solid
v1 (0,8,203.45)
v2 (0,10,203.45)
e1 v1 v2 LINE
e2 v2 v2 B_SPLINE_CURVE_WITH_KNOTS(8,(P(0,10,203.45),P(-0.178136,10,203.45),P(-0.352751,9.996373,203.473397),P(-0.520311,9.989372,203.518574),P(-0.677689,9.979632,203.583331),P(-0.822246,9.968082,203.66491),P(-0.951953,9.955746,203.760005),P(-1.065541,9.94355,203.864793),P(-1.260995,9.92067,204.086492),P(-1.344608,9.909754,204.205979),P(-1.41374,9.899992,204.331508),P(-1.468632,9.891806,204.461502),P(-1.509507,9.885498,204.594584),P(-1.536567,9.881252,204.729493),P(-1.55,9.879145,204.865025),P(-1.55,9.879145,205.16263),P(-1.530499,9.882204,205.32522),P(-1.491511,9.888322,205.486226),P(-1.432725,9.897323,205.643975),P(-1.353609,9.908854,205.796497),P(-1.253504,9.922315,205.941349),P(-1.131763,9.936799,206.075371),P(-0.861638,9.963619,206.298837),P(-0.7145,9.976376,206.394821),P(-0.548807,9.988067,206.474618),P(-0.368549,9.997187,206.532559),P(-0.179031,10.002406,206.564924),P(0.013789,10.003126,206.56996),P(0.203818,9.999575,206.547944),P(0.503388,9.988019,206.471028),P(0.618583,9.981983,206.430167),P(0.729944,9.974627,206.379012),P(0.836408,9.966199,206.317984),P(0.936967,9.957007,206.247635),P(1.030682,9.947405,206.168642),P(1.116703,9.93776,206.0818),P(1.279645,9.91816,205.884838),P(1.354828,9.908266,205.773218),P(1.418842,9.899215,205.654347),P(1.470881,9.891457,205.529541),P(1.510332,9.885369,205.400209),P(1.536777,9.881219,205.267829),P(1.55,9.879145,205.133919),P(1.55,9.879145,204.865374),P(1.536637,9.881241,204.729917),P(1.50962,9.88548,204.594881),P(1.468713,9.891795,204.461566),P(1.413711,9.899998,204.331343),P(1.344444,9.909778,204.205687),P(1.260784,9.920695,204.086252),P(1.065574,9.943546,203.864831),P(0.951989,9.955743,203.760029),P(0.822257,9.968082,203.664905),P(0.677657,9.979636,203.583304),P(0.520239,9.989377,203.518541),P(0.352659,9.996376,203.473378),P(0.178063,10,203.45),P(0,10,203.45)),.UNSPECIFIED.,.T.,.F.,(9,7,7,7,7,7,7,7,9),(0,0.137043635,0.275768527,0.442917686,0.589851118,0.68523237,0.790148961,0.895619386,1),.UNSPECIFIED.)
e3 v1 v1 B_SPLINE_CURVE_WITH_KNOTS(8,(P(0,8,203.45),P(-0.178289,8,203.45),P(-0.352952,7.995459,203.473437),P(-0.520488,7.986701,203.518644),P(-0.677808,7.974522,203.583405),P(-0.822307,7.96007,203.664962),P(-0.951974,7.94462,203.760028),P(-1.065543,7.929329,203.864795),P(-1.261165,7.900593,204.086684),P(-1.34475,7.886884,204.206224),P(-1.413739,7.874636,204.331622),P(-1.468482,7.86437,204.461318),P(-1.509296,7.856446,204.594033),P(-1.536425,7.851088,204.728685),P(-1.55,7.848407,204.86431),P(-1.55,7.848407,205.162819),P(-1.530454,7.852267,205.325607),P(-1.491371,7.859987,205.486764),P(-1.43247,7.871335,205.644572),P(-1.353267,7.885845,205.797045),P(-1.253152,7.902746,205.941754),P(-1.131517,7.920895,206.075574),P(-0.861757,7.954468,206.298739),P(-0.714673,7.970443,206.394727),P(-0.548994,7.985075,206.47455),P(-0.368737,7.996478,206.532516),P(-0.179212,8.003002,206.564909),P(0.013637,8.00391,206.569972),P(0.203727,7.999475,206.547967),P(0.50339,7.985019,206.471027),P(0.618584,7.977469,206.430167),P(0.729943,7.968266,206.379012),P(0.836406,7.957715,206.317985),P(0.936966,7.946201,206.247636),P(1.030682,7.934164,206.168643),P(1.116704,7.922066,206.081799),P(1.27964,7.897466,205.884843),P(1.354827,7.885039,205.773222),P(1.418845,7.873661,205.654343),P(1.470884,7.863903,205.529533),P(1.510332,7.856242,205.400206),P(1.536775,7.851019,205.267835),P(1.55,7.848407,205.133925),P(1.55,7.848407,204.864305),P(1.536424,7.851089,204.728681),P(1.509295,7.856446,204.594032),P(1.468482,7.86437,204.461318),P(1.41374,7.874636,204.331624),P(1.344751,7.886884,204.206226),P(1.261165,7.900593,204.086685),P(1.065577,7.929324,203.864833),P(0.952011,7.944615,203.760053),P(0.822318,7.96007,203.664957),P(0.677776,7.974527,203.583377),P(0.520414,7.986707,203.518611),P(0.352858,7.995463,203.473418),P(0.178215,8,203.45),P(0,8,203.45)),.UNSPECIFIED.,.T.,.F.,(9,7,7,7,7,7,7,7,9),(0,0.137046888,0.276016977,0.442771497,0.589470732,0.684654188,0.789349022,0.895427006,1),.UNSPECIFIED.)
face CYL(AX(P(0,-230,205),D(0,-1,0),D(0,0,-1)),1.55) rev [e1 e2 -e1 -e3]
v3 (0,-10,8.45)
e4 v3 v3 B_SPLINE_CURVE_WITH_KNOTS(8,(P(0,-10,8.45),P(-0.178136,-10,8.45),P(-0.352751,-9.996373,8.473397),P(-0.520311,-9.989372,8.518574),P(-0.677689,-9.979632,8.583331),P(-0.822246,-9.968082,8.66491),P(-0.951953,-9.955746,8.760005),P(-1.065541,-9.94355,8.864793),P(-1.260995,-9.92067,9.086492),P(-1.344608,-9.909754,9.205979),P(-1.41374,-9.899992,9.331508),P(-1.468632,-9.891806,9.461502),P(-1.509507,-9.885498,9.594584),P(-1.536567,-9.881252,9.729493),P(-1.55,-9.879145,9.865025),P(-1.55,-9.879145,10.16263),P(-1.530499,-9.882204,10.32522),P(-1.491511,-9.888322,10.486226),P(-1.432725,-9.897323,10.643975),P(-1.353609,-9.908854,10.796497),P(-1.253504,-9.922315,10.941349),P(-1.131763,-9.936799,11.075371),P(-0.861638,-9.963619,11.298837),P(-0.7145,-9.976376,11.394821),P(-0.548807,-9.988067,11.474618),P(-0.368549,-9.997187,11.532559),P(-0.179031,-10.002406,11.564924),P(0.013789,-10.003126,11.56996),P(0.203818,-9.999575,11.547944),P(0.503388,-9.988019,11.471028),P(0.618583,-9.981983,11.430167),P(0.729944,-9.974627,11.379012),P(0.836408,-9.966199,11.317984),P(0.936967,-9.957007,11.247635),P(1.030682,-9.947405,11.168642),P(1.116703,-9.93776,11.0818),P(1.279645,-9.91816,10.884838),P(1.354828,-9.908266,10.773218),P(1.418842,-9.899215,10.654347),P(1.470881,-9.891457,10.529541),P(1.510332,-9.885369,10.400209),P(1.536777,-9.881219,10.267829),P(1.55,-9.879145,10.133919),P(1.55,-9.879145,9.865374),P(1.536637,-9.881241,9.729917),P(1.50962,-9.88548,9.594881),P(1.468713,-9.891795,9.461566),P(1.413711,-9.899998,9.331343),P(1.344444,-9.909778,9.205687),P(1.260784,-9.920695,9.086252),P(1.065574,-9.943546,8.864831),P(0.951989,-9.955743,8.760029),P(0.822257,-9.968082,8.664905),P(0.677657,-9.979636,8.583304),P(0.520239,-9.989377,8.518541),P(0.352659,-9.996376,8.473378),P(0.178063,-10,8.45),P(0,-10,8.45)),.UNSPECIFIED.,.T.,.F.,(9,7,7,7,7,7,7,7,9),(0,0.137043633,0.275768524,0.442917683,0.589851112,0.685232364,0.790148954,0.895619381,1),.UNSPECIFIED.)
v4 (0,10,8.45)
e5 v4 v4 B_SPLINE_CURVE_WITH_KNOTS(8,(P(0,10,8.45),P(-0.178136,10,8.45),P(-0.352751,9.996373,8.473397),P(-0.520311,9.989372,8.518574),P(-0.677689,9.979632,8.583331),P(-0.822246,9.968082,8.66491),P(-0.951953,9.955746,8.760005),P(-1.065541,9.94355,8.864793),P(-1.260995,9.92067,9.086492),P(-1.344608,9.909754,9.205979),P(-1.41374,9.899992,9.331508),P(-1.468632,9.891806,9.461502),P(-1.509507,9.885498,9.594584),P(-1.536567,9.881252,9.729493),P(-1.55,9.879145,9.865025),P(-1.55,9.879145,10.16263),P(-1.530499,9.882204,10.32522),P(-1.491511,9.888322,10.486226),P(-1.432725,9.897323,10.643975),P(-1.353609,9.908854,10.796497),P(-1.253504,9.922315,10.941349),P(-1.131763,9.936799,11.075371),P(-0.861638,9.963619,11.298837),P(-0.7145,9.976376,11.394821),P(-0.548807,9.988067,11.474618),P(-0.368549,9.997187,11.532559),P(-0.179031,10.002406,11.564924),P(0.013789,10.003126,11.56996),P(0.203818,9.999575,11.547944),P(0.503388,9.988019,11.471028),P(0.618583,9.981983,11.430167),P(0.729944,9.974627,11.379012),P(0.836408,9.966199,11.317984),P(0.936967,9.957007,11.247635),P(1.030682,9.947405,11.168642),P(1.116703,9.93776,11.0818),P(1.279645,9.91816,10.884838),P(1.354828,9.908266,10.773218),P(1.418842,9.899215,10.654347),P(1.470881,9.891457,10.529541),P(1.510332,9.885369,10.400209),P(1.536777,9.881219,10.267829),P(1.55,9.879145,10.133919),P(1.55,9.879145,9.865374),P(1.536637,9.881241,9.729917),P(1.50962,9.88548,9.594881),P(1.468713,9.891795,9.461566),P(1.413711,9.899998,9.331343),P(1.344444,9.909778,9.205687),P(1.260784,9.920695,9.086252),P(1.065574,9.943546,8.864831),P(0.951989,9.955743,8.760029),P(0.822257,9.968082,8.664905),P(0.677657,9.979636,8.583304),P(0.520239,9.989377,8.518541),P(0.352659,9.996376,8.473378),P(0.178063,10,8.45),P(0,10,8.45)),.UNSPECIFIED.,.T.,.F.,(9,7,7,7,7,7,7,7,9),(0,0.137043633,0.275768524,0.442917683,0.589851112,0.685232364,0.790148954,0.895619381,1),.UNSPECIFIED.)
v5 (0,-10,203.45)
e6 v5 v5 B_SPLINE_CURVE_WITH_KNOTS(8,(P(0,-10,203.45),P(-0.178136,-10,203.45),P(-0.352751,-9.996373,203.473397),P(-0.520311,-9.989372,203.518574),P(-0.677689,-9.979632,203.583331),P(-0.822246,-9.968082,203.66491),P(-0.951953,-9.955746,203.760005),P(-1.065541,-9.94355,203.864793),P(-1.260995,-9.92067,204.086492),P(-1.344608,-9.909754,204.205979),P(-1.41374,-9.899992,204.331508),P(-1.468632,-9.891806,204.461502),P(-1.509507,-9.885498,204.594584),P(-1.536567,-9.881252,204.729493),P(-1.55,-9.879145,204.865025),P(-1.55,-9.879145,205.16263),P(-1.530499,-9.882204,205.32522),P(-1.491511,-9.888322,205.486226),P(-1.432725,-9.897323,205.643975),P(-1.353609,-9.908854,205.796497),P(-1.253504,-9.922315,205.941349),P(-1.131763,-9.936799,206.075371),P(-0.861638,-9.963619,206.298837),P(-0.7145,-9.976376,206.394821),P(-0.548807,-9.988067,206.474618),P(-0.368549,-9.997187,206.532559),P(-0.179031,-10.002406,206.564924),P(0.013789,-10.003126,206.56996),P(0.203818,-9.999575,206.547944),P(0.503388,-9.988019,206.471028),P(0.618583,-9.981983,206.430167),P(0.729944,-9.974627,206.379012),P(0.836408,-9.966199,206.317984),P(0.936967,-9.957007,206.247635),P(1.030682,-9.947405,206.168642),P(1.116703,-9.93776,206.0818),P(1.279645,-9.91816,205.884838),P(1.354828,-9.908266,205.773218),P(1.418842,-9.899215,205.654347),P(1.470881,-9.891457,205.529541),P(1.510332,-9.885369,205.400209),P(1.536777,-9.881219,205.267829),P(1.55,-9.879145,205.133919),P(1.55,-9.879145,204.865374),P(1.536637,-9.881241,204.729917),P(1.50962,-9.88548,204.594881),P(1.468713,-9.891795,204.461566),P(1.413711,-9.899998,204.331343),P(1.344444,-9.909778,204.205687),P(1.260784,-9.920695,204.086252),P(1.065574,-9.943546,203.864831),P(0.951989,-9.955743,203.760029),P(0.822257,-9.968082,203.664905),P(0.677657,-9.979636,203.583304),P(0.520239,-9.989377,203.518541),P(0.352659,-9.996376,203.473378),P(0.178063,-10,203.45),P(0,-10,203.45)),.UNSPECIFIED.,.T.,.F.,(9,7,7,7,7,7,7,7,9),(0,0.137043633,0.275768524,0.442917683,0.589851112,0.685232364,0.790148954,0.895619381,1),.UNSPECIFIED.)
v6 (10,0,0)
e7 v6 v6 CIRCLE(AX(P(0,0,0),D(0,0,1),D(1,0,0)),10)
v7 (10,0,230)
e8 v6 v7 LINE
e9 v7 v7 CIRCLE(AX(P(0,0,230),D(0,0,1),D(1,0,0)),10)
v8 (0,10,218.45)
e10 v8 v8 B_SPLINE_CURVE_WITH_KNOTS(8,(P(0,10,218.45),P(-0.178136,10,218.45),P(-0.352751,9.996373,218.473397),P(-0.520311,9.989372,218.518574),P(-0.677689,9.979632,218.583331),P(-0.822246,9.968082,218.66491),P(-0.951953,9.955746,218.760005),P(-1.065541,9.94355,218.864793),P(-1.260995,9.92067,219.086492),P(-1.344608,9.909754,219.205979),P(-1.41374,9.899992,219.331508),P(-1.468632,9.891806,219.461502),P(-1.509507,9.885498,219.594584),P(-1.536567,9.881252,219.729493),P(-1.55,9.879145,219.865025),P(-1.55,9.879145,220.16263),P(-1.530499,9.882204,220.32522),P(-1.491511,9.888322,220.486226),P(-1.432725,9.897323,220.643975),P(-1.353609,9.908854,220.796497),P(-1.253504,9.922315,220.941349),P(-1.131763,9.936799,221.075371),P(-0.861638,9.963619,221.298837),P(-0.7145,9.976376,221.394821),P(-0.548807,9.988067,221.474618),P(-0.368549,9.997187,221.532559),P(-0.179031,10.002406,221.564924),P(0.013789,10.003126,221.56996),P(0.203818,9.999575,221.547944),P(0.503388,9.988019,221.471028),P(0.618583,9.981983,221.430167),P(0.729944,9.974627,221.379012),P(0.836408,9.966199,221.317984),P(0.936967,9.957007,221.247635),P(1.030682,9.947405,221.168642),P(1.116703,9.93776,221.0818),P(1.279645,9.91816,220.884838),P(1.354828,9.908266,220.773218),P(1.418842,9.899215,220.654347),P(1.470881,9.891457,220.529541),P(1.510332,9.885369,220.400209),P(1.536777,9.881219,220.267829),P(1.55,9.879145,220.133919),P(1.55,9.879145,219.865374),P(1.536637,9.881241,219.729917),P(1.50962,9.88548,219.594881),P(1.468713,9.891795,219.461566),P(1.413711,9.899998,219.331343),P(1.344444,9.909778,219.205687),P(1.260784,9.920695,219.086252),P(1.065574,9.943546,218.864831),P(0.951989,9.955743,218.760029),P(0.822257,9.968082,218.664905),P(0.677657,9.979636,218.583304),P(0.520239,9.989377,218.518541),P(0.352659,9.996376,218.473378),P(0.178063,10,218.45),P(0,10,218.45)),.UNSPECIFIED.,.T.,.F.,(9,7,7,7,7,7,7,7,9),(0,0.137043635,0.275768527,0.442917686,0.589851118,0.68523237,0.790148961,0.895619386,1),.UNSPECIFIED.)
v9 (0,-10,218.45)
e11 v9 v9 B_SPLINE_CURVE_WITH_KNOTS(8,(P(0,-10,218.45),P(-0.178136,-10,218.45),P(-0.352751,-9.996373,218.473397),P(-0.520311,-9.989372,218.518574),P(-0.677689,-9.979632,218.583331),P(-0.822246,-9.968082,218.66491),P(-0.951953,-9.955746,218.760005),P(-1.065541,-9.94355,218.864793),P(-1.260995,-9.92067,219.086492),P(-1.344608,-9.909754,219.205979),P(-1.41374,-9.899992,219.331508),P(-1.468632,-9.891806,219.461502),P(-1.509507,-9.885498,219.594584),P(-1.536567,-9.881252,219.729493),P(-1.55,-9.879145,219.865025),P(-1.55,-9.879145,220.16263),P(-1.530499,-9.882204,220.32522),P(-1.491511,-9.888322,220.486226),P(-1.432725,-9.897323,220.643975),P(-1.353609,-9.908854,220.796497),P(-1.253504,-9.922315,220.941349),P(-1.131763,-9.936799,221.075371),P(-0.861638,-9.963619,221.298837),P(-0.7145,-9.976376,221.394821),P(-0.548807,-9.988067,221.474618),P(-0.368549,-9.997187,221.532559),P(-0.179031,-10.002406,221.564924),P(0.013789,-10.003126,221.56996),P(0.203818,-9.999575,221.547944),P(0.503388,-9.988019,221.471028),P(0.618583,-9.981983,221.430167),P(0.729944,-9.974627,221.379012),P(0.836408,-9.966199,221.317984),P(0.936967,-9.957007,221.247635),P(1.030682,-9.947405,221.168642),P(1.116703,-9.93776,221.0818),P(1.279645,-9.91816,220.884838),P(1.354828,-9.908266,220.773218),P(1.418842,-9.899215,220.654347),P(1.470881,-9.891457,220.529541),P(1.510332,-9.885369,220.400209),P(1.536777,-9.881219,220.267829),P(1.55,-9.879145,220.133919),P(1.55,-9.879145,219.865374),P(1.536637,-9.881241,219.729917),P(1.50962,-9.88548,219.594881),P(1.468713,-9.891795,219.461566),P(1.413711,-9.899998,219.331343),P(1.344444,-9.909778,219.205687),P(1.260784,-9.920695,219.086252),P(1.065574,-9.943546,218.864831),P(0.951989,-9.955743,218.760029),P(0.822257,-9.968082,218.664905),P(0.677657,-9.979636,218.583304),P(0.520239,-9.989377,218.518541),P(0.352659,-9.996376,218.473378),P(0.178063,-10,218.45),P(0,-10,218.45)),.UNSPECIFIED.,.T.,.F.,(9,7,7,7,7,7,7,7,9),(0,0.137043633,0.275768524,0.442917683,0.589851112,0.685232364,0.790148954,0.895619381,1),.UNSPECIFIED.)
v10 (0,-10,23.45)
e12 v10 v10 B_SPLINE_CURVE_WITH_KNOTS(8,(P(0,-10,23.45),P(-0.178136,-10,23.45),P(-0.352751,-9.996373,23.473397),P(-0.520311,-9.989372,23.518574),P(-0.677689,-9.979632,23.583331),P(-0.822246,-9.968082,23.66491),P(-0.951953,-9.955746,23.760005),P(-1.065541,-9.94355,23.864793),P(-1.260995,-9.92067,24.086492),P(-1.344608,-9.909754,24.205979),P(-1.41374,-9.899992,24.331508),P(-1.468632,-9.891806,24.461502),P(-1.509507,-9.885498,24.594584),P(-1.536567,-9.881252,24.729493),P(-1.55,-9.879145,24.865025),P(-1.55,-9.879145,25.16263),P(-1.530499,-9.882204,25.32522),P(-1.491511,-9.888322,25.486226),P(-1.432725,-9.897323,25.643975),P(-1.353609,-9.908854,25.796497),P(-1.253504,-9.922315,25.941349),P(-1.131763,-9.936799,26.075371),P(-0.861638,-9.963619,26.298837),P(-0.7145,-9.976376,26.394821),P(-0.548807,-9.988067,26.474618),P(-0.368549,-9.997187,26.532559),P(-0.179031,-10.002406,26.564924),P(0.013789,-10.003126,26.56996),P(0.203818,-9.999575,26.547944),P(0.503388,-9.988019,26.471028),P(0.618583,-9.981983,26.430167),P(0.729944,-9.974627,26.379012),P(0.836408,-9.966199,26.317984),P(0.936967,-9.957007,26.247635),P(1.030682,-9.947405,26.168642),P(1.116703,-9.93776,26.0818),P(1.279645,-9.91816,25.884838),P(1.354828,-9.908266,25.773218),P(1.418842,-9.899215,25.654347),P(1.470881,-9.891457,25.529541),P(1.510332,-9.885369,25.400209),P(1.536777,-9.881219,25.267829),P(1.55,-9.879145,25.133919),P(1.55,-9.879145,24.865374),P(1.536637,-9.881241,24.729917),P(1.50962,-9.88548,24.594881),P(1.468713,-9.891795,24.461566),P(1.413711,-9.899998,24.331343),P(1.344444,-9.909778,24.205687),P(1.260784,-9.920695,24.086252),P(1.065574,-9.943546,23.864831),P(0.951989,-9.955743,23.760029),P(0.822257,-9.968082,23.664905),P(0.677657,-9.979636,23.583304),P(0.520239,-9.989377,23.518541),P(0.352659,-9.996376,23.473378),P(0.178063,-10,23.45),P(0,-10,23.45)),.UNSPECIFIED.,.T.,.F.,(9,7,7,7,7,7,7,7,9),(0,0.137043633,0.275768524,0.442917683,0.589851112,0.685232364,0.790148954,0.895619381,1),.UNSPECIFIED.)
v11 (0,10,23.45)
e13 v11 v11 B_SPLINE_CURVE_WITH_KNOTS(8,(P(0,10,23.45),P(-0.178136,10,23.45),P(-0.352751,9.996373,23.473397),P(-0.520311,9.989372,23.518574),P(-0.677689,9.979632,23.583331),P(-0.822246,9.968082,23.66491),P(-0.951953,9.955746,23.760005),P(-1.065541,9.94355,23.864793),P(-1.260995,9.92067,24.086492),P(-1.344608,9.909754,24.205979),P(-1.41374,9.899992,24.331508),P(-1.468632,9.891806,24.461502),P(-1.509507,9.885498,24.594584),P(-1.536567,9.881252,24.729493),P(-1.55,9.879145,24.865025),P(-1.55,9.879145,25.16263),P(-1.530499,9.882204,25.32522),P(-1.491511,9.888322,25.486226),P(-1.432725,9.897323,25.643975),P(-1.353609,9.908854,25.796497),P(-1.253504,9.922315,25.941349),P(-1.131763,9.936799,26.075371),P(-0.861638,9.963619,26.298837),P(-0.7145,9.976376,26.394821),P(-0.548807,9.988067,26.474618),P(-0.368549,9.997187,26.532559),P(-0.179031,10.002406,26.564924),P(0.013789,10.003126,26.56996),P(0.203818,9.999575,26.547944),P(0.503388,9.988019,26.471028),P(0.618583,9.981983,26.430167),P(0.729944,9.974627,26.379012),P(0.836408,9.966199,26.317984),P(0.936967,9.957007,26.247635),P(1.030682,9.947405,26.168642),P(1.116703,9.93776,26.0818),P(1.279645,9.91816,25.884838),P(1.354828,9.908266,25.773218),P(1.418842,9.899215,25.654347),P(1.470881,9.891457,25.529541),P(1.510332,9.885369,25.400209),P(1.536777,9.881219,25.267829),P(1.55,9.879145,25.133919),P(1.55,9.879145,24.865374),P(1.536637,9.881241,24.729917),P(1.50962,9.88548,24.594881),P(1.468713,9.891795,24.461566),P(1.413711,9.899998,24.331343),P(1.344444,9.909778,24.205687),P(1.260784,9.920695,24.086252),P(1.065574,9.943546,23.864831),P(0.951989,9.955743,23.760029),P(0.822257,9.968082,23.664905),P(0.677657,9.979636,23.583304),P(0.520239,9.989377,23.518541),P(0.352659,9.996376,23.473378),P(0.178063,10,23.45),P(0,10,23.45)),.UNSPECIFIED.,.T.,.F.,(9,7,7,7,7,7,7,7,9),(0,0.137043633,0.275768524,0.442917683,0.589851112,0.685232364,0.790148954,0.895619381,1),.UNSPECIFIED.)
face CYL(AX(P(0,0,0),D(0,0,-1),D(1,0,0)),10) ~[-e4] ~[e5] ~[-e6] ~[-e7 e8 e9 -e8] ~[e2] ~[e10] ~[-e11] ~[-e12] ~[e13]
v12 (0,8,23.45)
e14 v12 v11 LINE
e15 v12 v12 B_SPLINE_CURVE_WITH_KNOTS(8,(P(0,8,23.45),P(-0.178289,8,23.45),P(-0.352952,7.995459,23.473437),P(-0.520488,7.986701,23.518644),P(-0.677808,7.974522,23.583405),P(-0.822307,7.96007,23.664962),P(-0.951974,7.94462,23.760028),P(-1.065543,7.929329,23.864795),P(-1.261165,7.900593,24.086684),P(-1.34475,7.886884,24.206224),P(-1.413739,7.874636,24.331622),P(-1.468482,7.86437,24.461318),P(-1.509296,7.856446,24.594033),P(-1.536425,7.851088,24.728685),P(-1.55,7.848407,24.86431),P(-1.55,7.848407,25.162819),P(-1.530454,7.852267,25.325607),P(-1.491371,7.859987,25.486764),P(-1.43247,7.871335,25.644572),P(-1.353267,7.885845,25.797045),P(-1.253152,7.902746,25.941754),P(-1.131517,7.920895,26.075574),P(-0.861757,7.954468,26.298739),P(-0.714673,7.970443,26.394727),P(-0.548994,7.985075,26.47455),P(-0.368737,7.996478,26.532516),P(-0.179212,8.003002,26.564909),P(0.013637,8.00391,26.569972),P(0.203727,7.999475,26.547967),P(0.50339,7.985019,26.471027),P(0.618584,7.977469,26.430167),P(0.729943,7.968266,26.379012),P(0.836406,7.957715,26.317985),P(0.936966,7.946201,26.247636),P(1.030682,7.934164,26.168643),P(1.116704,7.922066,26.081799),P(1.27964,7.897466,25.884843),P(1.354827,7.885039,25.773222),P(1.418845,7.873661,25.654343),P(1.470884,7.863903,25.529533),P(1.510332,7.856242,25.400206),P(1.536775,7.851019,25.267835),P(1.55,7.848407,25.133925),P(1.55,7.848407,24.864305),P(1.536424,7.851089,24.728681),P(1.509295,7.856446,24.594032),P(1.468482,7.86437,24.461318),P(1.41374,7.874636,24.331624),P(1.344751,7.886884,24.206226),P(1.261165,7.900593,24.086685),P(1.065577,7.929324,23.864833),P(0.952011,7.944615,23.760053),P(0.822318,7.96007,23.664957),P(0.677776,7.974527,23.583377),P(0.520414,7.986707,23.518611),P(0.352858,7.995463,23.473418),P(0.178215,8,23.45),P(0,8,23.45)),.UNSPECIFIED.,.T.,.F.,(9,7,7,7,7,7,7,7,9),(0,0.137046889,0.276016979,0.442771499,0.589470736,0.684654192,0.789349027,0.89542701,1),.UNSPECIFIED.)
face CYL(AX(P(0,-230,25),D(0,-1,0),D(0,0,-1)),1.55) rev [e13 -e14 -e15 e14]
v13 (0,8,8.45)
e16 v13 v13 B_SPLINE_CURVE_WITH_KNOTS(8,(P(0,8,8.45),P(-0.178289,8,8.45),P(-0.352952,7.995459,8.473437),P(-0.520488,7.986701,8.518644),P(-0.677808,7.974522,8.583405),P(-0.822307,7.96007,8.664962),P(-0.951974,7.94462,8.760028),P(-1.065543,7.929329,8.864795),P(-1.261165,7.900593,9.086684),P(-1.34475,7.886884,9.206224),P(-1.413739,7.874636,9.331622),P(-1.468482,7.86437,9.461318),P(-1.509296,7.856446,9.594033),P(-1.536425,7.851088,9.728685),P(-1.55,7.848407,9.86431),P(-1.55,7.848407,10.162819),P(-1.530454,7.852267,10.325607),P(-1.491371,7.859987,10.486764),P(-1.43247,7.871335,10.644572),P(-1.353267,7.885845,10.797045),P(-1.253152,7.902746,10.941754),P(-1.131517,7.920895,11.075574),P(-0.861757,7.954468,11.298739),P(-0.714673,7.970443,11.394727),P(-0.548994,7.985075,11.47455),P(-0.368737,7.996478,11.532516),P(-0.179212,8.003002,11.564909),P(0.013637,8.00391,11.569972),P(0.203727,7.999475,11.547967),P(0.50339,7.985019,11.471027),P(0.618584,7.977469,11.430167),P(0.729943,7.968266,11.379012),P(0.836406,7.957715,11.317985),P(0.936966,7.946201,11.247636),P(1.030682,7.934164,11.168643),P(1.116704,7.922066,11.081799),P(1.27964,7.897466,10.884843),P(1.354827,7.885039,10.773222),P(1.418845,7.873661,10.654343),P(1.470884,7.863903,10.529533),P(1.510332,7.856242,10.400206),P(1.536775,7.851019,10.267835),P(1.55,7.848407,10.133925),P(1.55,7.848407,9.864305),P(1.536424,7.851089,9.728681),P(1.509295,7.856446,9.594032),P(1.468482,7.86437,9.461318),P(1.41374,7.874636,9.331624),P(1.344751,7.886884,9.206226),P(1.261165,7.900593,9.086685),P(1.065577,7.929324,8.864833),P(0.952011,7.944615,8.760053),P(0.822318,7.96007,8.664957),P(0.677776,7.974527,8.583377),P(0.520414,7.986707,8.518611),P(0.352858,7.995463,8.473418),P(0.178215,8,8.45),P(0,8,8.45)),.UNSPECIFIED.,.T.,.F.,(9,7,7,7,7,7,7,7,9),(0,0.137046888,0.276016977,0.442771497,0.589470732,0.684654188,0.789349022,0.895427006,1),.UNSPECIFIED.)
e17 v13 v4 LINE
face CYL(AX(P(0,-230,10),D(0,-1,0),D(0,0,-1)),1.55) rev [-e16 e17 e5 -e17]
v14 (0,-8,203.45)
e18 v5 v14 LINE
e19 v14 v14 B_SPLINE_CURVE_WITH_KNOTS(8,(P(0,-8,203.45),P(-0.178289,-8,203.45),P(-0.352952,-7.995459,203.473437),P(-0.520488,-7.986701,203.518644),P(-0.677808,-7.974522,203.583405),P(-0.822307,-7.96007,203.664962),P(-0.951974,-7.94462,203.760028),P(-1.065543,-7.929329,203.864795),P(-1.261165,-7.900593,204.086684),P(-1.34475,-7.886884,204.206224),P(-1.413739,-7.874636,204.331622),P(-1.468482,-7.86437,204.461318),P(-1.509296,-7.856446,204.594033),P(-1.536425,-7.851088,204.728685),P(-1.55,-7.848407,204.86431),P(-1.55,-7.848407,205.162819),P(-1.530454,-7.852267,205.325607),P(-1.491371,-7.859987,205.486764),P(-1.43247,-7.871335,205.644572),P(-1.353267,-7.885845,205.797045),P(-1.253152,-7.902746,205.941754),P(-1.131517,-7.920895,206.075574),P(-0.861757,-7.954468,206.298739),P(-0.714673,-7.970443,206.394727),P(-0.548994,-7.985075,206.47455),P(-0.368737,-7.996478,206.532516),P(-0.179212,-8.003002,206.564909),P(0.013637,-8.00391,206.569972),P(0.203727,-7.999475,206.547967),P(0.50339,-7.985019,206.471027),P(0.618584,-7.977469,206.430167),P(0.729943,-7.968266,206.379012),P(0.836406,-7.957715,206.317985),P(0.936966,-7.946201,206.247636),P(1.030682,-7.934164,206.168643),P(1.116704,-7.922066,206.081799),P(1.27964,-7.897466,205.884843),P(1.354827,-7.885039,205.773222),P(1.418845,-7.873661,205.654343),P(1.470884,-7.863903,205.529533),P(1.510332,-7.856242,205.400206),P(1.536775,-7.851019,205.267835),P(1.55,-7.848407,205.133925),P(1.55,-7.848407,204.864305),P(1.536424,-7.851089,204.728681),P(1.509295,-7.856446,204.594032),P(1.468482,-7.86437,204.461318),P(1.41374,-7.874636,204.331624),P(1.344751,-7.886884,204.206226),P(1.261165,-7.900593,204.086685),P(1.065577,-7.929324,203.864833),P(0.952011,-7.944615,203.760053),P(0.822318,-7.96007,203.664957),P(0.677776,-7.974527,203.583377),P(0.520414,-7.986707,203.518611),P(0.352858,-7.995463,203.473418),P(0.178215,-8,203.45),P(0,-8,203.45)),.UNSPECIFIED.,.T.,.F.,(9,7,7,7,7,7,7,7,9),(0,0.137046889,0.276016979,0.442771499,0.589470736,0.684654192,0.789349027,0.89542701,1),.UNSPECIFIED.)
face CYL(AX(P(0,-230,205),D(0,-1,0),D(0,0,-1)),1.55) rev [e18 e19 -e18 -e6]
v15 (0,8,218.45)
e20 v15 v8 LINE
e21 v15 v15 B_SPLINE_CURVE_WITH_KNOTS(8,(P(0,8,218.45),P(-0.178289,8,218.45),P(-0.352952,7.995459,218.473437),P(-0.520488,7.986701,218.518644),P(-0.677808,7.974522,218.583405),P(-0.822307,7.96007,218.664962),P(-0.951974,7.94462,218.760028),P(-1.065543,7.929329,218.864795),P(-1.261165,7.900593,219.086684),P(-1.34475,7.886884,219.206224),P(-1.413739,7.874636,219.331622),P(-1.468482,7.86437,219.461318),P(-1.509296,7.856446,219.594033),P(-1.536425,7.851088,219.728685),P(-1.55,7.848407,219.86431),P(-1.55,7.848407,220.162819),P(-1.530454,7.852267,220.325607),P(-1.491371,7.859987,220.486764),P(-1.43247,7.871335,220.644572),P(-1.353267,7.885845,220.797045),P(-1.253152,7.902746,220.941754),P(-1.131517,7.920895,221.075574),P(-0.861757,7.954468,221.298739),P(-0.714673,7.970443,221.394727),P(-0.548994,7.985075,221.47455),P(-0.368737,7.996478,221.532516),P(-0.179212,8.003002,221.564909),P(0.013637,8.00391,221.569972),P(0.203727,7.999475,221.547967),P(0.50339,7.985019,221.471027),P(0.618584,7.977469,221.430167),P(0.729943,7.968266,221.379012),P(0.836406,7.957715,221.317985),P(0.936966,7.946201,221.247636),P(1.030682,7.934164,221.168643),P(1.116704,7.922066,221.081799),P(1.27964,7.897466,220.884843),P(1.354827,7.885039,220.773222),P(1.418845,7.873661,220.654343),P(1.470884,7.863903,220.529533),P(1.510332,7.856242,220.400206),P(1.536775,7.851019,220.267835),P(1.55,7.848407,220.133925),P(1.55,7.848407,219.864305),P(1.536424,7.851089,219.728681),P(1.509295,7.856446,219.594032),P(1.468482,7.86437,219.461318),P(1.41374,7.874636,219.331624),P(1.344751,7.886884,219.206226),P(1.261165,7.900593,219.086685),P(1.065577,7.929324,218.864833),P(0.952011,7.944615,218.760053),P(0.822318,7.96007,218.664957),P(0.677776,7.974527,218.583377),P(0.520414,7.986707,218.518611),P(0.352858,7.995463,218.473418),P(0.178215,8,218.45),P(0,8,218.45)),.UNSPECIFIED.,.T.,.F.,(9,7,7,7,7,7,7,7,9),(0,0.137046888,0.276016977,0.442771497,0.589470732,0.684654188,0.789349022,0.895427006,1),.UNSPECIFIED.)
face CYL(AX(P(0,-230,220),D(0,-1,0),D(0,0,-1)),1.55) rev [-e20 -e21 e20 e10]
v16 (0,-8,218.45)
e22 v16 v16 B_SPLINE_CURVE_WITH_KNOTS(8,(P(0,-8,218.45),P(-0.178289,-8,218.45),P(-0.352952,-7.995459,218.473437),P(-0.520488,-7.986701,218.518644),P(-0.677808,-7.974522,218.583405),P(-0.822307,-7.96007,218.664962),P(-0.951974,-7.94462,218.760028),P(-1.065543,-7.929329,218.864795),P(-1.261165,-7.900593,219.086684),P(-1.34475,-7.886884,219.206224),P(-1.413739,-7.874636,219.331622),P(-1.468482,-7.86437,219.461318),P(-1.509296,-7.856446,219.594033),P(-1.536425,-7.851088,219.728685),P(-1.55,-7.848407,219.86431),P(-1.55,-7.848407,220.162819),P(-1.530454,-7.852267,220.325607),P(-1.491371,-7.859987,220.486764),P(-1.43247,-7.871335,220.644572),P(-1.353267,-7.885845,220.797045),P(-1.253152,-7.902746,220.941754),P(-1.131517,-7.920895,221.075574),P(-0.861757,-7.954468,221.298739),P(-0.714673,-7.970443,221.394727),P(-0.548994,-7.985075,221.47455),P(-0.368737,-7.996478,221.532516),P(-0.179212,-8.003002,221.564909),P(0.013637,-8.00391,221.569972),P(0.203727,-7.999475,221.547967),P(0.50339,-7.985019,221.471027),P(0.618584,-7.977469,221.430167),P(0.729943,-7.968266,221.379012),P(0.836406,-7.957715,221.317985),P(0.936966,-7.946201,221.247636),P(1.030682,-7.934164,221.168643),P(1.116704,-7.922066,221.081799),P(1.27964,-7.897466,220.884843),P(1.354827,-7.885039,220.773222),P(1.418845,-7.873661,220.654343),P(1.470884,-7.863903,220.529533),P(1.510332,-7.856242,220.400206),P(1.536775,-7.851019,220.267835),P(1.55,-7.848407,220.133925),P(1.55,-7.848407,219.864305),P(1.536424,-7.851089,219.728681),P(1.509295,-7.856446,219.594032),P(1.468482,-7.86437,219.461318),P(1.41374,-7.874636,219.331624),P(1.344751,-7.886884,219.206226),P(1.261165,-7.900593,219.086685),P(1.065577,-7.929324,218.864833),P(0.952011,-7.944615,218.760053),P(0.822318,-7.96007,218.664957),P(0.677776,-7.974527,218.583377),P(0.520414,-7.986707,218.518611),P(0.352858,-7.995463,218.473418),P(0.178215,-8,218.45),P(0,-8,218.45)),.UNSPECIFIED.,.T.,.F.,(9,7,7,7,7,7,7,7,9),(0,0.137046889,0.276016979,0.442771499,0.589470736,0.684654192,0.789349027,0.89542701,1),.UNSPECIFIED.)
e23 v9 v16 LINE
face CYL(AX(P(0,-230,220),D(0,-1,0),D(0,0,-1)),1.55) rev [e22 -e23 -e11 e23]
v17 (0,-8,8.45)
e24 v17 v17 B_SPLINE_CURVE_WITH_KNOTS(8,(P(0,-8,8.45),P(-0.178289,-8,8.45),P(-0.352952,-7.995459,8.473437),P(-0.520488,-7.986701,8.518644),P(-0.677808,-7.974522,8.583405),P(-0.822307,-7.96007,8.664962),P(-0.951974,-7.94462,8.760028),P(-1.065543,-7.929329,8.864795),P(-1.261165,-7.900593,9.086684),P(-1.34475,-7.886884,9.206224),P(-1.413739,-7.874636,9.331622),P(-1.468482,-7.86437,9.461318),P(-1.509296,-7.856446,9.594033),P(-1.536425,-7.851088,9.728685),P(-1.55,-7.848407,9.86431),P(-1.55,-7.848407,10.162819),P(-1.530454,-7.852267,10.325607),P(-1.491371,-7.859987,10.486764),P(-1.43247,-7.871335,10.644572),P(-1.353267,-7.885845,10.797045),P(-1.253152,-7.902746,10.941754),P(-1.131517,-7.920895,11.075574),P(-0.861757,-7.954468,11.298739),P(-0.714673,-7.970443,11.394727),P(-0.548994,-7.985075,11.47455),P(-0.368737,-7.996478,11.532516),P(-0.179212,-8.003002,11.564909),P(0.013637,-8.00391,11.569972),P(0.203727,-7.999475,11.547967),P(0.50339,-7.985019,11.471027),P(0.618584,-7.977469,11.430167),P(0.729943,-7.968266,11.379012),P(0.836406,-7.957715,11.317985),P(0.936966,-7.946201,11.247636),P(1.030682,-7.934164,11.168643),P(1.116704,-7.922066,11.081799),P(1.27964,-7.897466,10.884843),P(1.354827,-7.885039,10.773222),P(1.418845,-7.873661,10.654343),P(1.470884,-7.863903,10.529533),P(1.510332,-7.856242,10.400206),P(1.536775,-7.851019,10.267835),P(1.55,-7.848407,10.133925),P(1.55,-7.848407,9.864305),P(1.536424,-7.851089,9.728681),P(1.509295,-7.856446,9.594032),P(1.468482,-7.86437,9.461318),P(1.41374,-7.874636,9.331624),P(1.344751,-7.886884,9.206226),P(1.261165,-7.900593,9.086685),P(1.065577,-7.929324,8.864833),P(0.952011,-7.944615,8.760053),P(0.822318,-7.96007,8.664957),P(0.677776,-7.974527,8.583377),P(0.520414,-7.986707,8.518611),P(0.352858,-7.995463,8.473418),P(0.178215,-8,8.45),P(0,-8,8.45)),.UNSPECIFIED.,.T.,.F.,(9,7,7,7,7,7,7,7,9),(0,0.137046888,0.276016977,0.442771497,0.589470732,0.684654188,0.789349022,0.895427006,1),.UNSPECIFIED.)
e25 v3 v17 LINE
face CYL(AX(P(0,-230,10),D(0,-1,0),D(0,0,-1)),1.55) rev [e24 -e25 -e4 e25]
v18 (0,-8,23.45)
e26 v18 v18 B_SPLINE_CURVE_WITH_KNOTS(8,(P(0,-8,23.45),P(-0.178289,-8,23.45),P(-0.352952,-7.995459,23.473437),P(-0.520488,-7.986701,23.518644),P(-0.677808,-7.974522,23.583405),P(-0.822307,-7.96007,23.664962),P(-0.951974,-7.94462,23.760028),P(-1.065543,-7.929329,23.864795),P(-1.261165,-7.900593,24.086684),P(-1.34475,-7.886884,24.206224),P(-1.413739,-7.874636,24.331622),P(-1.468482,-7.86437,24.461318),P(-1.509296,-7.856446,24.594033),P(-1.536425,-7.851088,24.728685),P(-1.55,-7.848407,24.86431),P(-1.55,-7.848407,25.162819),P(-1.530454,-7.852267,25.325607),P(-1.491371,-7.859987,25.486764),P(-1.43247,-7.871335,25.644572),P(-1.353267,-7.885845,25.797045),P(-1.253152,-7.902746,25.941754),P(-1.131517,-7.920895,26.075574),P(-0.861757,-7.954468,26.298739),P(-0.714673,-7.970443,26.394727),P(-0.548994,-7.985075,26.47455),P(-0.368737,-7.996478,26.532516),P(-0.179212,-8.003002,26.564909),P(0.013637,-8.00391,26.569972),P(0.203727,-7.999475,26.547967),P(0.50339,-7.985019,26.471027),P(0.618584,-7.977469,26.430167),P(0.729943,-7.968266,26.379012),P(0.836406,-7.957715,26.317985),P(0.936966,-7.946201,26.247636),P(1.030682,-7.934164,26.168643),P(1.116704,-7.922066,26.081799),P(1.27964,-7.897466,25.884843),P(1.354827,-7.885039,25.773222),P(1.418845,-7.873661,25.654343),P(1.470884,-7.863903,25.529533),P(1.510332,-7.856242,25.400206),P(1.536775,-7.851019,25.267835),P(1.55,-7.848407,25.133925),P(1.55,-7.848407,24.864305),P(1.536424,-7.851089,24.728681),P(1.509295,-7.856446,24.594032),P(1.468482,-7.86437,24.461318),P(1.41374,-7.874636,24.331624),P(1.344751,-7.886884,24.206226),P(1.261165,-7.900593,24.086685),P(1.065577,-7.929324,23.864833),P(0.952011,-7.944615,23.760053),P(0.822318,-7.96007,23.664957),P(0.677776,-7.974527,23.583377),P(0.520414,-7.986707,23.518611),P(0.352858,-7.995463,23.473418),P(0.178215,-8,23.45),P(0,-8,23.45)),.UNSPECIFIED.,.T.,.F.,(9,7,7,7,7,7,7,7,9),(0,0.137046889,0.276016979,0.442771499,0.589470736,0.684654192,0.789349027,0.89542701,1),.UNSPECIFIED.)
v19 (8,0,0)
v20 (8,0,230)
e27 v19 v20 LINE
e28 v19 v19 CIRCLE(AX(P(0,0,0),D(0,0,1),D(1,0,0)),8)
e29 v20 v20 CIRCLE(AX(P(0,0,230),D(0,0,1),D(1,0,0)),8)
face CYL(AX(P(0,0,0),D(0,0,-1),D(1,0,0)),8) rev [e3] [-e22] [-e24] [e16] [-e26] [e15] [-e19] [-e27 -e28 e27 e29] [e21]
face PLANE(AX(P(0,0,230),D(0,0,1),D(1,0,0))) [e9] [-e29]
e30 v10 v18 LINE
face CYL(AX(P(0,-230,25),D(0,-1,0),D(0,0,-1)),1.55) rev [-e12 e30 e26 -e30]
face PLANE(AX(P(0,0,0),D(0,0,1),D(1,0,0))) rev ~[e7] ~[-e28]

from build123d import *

# Parameters (mm, degrees)
SKETCH_1_R               = 10
SKETCH_1_R_2             = 8
EXTRUDE_1_DEPTH          = 230
CUT_EXTRUDE_1_DEPTH      = 231.434372436
CUT_EXTRUDE_1_DEPTH_BACK = 230
SKETCH_2_R               = 1.55


with BuildPart() as part:
    # 草图1 → 凸台-拉伸1 (new body)
    with BuildSketch(Plane.XY):
        Circle(SKETCH_1_R)
        Circle(SKETCH_1_R_2, mode=Mode.SUBTRACT)
    extrude(amount=EXTRUDE_1_DEPTH)

    # 草图2 → 切除-拉伸1 (cut, two sides: drawn at the far end of the back side and taken through both)
    with BuildSketch(Plane(origin=(0, 0, 0), x_dir=(1, 0, 0), z_dir=(0, 1, 0)).offset(-CUT_EXTRUDE_1_DEPTH_BACK)):
        with Locations(Location((0, -10, 0), (0, 0, 90))):
            Circle(SKETCH_2_R)
        with Locations(Location((0, -25, 0), (0, 0, 90))):
            Circle(SKETCH_2_R)
        with Locations(Location((0, -220, 0), (0, 0, 90))):
            Circle(SKETCH_2_R)
        with Locations(Location((0, -205, 0), (0, 0, 90))):
            Circle(SKETCH_2_R)
    extrude(amount=CUT_EXTRUDE_1_DEPTH + CUT_EXTRUDE_1_DEPTH_BACK, mode=Mode.SUBTRACT)


solid = part.part
